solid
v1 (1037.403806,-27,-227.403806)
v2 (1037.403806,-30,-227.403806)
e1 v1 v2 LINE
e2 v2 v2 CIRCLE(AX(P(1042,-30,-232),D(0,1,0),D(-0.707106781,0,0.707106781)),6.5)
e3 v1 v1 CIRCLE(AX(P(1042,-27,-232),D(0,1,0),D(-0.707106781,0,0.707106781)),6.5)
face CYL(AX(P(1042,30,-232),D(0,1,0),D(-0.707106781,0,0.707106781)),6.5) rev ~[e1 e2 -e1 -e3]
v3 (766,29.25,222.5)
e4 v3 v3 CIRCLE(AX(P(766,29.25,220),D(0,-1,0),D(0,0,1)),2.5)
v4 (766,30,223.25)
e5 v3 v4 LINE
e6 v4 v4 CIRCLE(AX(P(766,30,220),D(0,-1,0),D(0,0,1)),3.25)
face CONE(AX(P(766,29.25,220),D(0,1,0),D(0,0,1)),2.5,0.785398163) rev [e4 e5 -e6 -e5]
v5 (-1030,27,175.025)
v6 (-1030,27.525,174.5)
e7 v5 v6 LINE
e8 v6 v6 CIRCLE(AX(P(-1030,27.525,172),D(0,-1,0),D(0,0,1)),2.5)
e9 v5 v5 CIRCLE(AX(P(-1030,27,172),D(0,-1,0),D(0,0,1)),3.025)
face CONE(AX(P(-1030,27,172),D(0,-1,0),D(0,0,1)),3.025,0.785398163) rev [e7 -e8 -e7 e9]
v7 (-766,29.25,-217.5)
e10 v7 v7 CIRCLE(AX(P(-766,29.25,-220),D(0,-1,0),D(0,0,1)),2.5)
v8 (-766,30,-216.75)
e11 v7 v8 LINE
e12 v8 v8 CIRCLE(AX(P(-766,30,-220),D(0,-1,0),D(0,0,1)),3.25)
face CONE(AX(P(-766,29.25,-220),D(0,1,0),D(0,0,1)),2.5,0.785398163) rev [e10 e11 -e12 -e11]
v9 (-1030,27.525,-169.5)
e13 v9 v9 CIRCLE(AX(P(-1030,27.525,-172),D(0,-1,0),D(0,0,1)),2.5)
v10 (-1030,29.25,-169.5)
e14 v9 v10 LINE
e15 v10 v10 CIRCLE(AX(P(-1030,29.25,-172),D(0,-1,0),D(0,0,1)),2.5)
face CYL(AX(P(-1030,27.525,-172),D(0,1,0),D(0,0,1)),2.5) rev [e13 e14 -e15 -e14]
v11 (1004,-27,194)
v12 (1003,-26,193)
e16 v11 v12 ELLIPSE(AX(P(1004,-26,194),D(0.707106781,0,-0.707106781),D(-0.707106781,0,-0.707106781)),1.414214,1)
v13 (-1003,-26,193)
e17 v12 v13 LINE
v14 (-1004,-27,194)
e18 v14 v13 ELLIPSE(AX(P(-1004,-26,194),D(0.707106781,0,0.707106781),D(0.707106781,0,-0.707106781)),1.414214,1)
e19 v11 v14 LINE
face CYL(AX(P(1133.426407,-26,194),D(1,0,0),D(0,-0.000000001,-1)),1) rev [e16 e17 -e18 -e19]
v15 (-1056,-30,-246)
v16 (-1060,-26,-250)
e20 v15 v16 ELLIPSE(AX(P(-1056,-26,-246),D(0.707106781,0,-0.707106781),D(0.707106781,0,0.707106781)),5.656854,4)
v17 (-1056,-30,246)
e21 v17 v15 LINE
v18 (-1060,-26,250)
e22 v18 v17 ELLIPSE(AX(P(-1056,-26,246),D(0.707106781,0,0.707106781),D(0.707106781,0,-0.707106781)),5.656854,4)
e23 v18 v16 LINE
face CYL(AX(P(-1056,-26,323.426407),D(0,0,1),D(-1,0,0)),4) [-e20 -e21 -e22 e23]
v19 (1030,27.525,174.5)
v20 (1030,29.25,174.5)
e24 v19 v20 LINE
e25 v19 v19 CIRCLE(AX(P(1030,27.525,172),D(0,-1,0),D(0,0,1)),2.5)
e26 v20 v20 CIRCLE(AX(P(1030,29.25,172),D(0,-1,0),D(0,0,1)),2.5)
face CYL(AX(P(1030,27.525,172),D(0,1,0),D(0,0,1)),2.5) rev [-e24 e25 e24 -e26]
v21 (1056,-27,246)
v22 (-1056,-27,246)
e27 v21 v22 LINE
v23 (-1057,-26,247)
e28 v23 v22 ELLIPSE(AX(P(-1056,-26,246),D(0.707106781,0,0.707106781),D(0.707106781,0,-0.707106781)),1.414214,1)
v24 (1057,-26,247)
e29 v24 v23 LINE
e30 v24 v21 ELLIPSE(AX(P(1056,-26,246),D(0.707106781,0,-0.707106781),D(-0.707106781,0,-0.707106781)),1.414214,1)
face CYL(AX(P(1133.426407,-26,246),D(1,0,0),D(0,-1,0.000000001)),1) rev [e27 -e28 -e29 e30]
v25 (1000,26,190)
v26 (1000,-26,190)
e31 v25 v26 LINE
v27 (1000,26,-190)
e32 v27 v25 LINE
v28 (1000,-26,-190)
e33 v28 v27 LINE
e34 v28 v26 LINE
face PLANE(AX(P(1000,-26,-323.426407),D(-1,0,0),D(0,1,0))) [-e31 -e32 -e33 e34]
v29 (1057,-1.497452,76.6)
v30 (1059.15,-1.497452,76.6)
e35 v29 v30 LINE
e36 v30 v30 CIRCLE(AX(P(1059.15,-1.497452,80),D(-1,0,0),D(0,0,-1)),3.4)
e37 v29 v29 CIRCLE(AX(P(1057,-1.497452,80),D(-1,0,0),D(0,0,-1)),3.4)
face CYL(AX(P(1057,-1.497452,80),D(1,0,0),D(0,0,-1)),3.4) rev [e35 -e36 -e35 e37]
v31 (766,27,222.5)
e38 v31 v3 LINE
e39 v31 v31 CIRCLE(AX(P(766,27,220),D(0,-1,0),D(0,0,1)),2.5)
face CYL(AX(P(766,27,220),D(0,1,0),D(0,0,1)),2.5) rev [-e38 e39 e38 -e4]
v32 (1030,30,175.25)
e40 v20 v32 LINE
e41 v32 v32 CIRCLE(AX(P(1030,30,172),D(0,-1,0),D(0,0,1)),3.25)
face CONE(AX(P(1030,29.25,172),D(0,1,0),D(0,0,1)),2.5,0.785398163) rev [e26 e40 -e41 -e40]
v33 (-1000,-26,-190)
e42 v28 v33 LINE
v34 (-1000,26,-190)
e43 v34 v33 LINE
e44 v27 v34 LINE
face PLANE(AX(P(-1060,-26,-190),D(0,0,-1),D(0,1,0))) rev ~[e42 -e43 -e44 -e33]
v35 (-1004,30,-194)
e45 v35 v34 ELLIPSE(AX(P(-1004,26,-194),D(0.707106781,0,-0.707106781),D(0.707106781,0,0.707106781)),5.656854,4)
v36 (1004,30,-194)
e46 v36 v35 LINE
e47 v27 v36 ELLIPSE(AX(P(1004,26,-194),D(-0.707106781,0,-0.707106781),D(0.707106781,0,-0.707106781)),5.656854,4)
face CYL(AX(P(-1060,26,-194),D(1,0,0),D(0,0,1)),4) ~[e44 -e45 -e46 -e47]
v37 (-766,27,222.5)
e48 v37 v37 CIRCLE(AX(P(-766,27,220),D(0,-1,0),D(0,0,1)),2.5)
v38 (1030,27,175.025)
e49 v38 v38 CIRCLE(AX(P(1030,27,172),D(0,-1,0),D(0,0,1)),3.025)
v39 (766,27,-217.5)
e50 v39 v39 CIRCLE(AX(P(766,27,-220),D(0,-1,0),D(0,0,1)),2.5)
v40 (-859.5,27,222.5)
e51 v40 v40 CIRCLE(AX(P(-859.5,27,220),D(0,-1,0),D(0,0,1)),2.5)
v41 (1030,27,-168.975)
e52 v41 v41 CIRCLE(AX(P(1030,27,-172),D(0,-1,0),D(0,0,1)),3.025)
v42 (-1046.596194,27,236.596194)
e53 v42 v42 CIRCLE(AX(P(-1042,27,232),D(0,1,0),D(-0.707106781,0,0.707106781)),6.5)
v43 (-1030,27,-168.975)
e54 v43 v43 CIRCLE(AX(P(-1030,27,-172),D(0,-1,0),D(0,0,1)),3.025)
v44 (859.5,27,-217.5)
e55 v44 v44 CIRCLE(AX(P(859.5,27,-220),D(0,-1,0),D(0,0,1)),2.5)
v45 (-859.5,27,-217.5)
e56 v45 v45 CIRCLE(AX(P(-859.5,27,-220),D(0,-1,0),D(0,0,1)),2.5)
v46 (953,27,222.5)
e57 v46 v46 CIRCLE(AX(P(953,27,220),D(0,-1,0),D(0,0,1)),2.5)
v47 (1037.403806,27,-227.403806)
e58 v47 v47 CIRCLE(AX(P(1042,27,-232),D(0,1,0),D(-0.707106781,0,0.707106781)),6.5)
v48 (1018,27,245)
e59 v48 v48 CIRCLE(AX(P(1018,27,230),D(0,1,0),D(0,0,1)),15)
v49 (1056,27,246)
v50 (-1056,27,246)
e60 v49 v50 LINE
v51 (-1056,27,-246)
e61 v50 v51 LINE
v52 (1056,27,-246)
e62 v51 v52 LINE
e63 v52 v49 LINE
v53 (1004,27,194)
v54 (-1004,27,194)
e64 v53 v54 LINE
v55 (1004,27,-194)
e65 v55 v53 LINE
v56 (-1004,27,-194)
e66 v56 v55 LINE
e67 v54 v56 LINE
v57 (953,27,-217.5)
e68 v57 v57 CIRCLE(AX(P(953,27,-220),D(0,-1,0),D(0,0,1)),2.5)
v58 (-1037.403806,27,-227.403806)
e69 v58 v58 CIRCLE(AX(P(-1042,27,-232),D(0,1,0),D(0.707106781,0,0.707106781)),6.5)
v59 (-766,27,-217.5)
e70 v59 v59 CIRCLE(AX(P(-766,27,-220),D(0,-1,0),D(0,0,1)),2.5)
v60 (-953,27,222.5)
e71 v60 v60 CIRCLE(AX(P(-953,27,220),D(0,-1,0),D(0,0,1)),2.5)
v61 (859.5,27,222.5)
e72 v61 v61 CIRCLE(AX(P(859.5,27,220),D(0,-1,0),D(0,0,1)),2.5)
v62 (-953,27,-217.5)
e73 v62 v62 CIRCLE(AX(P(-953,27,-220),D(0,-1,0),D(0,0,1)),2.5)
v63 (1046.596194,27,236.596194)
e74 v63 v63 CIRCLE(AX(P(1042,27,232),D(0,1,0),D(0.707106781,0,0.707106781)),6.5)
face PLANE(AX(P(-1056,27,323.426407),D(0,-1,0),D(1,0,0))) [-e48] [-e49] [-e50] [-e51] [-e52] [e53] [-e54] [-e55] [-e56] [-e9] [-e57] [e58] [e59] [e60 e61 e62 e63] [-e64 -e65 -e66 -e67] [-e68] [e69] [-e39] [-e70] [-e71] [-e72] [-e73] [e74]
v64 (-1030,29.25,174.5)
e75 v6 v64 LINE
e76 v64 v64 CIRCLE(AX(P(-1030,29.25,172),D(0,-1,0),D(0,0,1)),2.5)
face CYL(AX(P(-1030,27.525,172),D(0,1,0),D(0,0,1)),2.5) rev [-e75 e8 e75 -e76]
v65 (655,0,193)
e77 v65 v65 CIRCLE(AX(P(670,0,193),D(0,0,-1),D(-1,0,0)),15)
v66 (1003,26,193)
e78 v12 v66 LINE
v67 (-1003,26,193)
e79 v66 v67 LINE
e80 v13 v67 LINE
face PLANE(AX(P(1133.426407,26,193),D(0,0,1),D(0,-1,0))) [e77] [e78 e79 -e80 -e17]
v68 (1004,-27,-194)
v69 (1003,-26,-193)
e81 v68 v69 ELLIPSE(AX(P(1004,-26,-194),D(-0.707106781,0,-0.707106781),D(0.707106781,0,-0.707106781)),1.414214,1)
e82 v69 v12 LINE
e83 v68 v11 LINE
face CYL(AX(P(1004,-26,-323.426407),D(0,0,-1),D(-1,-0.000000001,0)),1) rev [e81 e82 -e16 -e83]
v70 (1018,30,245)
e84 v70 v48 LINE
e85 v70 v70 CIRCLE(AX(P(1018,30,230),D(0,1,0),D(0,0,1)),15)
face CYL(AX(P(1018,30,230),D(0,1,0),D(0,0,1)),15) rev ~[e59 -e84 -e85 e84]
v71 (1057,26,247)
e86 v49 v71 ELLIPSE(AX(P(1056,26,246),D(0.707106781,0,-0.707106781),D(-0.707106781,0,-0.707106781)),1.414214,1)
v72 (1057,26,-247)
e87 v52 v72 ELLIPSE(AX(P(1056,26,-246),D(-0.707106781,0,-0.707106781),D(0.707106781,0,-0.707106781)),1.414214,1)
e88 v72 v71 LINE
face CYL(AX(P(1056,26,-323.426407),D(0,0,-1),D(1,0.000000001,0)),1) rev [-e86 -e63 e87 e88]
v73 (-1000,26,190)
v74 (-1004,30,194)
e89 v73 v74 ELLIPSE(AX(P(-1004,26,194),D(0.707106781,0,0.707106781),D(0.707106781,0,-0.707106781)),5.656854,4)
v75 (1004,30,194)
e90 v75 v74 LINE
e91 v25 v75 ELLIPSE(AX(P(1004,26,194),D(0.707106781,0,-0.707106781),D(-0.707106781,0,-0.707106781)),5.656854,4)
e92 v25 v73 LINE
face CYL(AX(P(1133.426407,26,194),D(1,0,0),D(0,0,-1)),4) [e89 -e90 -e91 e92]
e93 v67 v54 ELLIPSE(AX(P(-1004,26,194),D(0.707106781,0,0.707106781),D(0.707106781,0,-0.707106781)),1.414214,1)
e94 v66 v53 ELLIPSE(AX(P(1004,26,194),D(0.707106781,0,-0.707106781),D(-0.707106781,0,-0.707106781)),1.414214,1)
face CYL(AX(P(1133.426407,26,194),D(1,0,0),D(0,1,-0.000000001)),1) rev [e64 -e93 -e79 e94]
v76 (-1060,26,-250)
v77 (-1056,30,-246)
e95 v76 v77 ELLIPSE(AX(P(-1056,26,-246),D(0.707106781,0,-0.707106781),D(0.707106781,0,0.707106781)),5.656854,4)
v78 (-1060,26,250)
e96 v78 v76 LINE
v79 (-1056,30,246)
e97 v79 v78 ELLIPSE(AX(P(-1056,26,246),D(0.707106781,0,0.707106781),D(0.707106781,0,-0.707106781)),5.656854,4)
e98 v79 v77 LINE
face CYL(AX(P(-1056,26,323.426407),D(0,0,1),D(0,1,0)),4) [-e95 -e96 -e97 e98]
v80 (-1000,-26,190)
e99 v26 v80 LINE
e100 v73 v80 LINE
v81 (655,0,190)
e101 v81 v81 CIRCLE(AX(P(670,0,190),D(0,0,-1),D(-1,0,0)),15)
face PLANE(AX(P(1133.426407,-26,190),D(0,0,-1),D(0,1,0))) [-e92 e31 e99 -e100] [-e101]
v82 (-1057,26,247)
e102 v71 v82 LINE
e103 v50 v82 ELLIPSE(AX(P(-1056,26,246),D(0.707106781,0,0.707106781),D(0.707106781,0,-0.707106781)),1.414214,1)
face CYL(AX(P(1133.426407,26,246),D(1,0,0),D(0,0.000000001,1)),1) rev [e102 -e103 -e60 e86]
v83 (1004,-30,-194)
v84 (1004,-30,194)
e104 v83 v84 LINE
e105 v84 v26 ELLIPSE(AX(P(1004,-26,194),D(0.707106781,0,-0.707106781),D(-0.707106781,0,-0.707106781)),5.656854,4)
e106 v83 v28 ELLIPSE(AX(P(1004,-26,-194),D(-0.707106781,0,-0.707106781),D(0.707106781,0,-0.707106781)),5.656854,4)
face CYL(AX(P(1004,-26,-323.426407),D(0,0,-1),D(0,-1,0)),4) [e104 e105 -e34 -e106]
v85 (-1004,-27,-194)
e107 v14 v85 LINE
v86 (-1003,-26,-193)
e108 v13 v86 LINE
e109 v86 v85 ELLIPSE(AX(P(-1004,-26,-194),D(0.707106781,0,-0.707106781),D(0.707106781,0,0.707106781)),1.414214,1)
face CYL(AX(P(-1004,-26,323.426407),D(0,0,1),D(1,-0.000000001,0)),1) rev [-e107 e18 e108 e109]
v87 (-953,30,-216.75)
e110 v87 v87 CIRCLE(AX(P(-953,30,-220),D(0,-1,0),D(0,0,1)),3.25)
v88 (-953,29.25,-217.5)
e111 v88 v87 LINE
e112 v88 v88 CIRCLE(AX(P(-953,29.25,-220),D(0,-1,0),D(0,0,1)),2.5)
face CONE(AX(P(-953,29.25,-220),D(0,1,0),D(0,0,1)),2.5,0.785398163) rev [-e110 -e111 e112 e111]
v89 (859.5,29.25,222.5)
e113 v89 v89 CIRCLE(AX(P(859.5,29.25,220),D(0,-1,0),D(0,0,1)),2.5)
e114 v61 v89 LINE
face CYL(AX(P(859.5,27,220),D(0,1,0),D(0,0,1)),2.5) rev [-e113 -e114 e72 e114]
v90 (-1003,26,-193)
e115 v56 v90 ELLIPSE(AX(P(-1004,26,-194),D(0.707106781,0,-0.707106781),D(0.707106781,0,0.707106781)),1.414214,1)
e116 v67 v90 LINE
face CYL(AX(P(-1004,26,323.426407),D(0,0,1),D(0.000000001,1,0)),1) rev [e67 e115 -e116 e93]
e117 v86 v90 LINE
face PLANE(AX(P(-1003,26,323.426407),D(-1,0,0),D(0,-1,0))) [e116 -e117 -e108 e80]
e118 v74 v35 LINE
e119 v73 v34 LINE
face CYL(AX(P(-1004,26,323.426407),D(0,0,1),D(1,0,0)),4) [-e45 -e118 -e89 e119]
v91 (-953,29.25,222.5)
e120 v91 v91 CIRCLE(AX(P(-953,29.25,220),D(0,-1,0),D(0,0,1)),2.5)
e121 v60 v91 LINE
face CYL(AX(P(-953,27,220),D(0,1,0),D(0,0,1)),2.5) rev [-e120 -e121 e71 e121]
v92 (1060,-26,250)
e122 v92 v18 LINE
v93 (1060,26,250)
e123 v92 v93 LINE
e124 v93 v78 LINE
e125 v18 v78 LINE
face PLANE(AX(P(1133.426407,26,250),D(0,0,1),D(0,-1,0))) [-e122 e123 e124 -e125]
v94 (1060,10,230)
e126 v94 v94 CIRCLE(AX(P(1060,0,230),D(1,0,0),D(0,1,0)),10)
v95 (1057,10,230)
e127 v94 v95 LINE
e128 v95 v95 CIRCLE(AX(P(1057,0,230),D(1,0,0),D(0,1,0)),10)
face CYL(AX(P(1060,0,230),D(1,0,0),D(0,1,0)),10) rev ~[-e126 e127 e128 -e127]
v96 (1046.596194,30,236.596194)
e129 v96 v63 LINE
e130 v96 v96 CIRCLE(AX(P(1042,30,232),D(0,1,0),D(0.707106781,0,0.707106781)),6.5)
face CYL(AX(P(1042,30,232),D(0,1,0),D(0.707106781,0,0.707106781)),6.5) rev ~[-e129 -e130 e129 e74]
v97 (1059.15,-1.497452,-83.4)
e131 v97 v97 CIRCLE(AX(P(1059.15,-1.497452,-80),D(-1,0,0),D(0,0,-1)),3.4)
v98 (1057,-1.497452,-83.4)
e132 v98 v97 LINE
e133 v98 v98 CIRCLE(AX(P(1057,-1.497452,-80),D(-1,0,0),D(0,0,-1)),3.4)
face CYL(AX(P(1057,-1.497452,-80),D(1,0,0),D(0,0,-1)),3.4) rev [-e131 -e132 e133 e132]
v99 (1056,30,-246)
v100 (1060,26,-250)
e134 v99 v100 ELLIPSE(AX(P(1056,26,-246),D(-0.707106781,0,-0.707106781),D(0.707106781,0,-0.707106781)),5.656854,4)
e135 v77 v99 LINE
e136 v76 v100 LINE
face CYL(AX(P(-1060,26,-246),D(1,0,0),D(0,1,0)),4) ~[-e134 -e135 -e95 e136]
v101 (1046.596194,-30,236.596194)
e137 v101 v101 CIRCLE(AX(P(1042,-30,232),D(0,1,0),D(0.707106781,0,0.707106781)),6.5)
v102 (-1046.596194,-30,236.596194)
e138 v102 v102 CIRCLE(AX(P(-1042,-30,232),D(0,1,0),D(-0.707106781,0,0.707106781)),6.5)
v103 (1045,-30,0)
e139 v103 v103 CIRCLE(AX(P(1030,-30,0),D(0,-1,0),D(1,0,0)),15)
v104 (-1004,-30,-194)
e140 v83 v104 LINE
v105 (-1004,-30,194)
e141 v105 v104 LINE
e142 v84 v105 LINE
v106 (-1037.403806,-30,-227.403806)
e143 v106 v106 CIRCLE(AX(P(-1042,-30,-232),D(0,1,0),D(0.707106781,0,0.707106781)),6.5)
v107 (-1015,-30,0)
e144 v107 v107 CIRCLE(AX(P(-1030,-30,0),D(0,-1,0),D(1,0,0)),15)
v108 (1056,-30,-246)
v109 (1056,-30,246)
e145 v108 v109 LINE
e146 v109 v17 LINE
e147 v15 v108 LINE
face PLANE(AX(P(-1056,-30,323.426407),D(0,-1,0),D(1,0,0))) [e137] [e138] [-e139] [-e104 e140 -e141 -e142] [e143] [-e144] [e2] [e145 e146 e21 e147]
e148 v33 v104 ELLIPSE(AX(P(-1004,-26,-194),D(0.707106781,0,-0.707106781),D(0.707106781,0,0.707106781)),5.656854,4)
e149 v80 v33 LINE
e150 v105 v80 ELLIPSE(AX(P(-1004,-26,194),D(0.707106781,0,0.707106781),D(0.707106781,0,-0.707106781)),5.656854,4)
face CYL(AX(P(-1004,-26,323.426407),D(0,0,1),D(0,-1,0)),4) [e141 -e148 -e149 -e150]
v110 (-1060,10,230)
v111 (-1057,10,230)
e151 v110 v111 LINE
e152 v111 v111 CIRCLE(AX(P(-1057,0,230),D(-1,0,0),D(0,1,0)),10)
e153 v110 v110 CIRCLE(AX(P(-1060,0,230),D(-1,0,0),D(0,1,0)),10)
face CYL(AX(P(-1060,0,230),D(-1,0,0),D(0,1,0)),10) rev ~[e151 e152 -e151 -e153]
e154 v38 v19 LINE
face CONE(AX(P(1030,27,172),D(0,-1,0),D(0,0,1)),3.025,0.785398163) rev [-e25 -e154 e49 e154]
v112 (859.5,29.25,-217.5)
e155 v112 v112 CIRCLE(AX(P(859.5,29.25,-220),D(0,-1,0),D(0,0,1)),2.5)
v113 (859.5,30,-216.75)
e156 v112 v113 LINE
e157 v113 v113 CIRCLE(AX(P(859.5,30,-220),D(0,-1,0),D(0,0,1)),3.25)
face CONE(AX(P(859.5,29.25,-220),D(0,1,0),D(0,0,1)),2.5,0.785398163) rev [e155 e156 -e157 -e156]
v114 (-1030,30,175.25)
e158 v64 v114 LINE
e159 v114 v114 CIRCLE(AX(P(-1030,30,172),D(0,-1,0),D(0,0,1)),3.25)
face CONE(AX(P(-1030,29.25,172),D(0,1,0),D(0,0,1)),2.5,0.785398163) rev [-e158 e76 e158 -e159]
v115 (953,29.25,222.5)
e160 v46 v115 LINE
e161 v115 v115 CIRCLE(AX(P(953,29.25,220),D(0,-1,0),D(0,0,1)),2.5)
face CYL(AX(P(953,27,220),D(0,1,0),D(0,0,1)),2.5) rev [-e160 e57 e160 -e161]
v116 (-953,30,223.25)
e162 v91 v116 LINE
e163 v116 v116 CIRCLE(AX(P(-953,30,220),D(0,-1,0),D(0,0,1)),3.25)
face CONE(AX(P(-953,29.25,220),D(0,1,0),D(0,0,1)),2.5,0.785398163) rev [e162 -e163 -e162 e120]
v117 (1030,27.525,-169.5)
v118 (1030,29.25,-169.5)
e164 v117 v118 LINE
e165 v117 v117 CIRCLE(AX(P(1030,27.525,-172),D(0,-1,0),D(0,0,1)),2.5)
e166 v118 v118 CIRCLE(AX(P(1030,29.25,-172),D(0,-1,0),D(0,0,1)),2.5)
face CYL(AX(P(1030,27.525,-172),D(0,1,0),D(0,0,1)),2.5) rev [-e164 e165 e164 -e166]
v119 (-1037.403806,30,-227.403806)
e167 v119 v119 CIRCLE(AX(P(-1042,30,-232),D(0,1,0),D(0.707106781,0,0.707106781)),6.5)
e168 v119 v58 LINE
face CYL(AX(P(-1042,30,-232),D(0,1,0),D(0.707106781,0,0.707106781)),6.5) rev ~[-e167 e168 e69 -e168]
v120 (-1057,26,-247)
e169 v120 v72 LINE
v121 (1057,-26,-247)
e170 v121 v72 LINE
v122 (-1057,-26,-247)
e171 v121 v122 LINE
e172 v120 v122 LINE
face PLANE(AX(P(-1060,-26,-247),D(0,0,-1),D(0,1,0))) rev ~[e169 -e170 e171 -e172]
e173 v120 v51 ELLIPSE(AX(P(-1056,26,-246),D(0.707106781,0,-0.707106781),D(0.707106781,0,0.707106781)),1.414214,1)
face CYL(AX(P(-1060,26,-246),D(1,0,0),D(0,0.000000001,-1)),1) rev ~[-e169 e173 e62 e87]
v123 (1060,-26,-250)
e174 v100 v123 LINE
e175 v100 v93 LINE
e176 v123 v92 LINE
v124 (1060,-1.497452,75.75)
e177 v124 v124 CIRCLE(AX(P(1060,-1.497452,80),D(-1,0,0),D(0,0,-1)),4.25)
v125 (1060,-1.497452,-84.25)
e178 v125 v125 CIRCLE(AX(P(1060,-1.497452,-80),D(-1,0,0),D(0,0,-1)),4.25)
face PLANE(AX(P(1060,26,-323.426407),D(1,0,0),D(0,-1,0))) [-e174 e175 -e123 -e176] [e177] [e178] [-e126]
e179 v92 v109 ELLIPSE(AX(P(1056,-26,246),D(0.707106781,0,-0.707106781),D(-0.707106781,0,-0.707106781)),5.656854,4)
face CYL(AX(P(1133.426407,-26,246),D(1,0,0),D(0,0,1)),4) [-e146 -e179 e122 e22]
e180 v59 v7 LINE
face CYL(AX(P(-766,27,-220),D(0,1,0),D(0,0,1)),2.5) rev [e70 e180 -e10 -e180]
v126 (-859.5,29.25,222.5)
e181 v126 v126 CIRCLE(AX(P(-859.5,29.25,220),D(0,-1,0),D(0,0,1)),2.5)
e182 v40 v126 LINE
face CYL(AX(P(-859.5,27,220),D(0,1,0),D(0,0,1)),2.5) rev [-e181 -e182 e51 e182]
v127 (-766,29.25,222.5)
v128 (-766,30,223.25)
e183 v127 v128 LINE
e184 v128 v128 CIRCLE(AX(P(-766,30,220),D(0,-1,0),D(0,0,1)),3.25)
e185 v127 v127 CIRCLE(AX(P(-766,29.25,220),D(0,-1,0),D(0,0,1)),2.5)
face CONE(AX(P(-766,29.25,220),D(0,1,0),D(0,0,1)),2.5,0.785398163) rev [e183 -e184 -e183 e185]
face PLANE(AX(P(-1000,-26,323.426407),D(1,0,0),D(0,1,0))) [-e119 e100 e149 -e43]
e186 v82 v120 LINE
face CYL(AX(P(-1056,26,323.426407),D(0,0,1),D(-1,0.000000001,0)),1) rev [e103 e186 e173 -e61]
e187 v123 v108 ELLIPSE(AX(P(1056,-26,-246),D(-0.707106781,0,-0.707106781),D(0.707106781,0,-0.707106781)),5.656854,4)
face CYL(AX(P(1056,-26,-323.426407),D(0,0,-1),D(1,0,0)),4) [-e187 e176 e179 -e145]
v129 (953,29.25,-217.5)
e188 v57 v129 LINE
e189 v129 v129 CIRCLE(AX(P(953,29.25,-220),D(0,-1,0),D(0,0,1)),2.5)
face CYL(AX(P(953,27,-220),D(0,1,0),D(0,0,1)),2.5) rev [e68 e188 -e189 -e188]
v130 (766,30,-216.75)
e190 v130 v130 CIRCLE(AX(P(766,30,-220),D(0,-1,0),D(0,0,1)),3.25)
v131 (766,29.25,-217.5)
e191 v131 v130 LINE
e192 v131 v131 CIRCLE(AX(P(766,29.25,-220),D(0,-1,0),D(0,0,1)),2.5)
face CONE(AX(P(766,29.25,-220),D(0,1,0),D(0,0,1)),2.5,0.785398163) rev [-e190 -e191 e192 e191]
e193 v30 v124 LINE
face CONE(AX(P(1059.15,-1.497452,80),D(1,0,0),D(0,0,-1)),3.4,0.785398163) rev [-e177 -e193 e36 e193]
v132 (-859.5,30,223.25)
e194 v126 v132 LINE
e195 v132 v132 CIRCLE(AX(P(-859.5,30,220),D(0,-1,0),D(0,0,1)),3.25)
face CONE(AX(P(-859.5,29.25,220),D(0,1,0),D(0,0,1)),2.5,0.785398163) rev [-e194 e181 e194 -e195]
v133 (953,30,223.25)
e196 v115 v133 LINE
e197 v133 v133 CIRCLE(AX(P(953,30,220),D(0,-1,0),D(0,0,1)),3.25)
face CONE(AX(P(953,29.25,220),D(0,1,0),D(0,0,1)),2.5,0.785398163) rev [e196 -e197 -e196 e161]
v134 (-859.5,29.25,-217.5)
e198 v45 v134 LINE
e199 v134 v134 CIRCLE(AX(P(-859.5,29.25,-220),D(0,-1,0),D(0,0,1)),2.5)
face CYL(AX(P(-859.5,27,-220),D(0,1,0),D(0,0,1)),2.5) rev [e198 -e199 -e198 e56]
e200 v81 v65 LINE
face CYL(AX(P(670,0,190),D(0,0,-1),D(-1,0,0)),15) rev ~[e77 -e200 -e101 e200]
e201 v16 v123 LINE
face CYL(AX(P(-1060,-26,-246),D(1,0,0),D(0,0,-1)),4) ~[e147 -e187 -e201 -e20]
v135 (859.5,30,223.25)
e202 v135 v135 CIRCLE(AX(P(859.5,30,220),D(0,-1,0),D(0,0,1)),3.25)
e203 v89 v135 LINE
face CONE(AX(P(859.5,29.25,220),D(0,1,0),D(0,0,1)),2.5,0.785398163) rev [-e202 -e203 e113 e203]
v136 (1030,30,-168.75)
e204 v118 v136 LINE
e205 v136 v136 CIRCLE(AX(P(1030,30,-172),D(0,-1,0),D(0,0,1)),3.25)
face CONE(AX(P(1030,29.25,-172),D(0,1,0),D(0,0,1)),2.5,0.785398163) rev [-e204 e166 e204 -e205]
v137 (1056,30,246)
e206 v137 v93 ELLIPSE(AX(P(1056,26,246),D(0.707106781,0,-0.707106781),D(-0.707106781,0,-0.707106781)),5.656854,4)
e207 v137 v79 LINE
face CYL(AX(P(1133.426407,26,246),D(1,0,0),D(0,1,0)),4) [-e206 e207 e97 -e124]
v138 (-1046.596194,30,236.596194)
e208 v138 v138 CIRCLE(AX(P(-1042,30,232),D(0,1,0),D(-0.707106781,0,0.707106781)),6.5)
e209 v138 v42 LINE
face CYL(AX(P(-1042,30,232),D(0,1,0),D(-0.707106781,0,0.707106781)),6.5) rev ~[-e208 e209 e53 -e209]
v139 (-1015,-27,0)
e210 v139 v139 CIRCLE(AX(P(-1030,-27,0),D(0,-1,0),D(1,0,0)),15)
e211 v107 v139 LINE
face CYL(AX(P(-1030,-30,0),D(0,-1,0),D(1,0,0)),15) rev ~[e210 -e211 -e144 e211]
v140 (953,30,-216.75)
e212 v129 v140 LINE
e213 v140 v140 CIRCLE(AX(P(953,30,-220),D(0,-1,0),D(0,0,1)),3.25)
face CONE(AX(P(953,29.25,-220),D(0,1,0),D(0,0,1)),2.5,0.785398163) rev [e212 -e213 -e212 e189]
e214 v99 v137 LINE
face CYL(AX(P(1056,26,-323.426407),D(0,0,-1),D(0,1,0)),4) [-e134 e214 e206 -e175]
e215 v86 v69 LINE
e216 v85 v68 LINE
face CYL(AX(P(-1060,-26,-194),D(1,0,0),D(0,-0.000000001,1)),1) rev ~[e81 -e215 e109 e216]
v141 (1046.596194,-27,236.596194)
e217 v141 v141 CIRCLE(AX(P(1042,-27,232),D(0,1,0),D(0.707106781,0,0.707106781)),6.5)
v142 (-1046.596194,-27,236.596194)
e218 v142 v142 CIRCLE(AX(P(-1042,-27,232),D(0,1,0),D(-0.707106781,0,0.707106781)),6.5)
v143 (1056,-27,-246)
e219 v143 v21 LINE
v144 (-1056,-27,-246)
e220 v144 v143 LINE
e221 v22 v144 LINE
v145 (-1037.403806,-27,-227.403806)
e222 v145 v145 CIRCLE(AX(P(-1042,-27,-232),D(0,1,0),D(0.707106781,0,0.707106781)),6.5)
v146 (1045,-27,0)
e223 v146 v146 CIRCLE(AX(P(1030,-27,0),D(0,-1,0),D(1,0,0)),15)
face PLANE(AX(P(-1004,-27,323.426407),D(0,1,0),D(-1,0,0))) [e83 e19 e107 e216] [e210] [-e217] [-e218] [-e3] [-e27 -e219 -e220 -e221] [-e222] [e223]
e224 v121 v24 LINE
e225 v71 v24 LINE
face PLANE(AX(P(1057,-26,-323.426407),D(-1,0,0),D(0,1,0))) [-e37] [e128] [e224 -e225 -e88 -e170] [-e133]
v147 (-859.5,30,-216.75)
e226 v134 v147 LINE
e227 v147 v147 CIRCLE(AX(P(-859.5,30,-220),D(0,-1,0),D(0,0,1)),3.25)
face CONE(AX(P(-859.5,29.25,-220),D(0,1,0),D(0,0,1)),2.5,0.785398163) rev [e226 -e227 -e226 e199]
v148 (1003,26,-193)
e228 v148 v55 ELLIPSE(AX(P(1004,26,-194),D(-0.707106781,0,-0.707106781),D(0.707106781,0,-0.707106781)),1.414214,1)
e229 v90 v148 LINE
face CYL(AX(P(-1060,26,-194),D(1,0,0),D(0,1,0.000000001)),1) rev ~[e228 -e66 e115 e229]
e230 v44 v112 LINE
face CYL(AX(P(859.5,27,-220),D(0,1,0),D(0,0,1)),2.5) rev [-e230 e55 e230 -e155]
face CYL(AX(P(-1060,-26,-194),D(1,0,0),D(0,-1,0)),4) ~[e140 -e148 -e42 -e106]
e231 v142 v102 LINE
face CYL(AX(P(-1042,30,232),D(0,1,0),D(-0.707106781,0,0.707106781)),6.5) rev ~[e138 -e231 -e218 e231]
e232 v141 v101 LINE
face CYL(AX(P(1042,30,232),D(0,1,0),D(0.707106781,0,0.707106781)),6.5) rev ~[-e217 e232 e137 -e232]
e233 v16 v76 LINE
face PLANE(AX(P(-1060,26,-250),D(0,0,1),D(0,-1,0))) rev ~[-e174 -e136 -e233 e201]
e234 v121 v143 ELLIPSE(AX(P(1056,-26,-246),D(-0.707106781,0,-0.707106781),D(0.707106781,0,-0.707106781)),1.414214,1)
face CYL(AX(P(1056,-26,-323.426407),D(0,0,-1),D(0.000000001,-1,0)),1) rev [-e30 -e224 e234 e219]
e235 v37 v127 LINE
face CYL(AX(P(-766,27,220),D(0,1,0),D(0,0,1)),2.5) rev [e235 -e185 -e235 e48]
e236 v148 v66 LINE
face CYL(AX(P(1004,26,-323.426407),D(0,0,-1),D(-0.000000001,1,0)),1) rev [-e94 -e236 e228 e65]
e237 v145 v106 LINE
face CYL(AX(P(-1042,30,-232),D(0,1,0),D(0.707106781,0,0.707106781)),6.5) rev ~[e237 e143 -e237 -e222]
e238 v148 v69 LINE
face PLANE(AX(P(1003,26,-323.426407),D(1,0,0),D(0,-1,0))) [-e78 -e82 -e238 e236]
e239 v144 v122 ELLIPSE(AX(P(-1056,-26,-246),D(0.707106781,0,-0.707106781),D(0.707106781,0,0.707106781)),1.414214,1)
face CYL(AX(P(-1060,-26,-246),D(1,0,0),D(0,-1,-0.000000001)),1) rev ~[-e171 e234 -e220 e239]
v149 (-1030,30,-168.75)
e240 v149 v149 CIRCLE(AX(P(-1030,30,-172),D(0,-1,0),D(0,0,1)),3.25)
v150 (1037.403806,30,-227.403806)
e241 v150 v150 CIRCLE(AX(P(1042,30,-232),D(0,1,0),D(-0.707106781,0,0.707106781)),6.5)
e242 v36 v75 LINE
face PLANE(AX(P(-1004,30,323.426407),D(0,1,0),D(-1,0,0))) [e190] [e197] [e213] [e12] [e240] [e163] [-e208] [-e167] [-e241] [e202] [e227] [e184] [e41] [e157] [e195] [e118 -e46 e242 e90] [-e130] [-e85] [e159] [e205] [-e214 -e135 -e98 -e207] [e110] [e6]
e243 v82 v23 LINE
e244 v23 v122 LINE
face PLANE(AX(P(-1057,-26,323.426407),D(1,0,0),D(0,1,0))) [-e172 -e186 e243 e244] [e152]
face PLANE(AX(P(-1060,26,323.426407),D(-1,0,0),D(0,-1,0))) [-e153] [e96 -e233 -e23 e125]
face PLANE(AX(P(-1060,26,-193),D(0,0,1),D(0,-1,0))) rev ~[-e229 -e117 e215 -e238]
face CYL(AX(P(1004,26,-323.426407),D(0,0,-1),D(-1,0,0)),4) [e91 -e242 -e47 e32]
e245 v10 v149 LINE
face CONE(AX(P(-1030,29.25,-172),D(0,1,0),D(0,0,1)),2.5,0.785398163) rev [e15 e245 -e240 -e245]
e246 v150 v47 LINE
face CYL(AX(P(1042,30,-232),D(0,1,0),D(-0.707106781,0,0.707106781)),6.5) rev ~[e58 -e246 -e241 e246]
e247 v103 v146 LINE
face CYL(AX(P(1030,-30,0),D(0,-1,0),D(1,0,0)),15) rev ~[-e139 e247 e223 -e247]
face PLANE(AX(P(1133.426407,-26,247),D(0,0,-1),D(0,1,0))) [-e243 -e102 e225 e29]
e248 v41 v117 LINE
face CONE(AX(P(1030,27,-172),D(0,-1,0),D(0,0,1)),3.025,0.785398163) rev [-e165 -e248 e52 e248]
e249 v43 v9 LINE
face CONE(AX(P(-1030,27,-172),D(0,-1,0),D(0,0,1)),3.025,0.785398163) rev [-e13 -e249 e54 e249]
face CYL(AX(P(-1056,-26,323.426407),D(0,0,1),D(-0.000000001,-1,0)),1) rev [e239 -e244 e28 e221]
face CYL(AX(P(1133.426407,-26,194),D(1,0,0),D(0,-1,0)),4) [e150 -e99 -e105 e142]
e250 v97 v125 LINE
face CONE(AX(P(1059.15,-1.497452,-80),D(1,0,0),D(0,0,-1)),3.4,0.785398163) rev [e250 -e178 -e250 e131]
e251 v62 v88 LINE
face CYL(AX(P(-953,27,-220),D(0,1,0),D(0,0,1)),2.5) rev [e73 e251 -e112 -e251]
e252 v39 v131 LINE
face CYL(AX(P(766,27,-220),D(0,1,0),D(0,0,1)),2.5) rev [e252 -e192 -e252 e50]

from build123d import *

# Parameters (mm, degrees)
STRUKTURBAUTEIL1_DEPTH          = 2193.426406871
STRUKTURBAUTEIL1_DEPTH_BACK     = 73.426406871
STRUKTURBAUTEIL1_2_DEPTH        = 646.852813742
STRUKTURBAUTEIL1_3_DEPTH        = 2266.852813742
STRUKTURBAUTEIL1_4_DEPTH        = 646.852813742
M6_GEWINDEBOHRUNG1_AT_2_COUNT   = 2
M6_GEWINDEBOHRUNG1_AT_2_PITCH   = 344
M6_GEWINDEBOHRUNG2_AT_2_COUNT   = 2
M6_GEWINDEBOHRUNG2_AT_2_PITCH   = 344
SCHNITT_LINEAR_AUSTRAGEN1_REACH = 1092.734
SKIZZE19_R                      = 15
SCHNITT_LINEAR_AUSTRAGEN2_REACH = 1150.085
SKIZZE20_R                      = 15
SCHNITT_LINEAR_AUSTRAGEN3_REACH = 2136.9
SKIZZE21_R                      = 10
SCHNITT_LINEAR_AUSTRAGEN4_REACH = 1092.734
SKIZZE22_R                      = 15
SCHNITT_LINEAR_AUSTRAGEN5_REACH = 2136.9
SKIZZE23_R                      = 10
M8_GEWINDEBOHRUNG1_AT_2_COUNT   = 2
M8_GEWINDEBOHRUNG1_AT_2_PITCH   = 160
SKIZZE26_R                      = 6.5
SCHNITT_LINEAR_AUSTRAGEN6_DEPTH = 1091.733698022
M6_GEWINDEBOHRUNG3_AT_2_COUNT   = 2
M6_GEWINDEBOHRUNG3_AT_2_PITCH   = 93.5
M6_GEWINDEBOHRUNG3_AT_3_COUNT   = 2
M6_GEWINDEBOHRUNG3_AT_3_PITCH   = 187
M6_GEWINDEBOHRUNG3_AT_4_COUNT   = 2
M6_GEWINDEBOHRUNG3_AT_4_PITCH   = 1719
M6_GEWINDEBOHRUNG3_AT_5_COUNT   = 2
M6_GEWINDEBOHRUNG3_AT_5_PITCH   = 1812.5
M6_GEWINDEBOHRUNG3_AT_6_COUNT   = 2
M6_GEWINDEBOHRUNG3_AT_6_PITCH   = 1906
M6_GEWINDEBOHRUNG3_AT_7_COUNT   = 2
M6_GEWINDEBOHRUNG3_AT_7_PITCH   = 1774.418496297
M6_GEWINDEBOHRUNG3_AT_8_COUNT   = 2
M6_GEWINDEBOHRUNG3_AT_8_PITCH   = 1865.142420835
M6_GEWINDEBOHRUNG3_AT_9_COUNT   = 2
M6_GEWINDEBOHRUNG3_AT_9_PITCH   = 1956.127807685
M6_GEWINDEBOHRUNG3_AT_10_COUNT  = 2
M6_GEWINDEBOHRUNG3_AT_10_PITCH  = 440
M6_GEWINDEBOHRUNG3_AT_11_COUNT  = 2
M6_GEWINDEBOHRUNG3_AT_11_PITCH  = 449.824688073
M6_GEWINDEBOHRUNG3_AT_12_COUNT  = 2
M6_GEWINDEBOHRUNG3_AT_12_PITCH  = 478.088903866


with BuildPart() as part:
    # Skizze12 → Strukturbauteil1 (new, two sides)
    with BuildSketch(Plane(origin=(-1060, 0, -220), x_dir=(0, 0, -1), z_dir=(1, 0, 0))) as strukturbauteil1_sk:
        with BuildLine():
            Line((26, -30), (-26, -30))
            ThreePointArc((-26, -30), (-28.828427125, -28.828427125), (-30, -26))
            Line((-30, -26), (-30, 26))
            ThreePointArc((-30, 26), (-28.828427125, 28.828427125), (-26, 30))
            Line((-26, 30), (26, 30))
            ThreePointArc((26, 30), (28.828427125, 28.828427125), (30, 26))
            Line((30, 26), (30, -26))
            ThreePointArc((30, -26), (28.828427125, -28.828427125), (26, -30))
        make_face()
        with BuildLine():
            Line((27, -26), (27, 26))
            ThreePointArc((27, 26), (26.707106781, 26.707106781), (26, 27))
            Line((26, 27), (-26, 27))
            ThreePointArc((-26, 27), (-26.707106781, 26.707106781), (-27, 26))
            Line((-27, 26), (-27, -26))
            ThreePointArc((-27, -26), (-26.707106781, -26.707106781), (-26, -27))
            Line((-26, -27), (26, -27))
            ThreePointArc((26, -27), (26.707106781, -26.707106781), (27, -26))
        make_face(mode=Mode.SUBTRACT)
    extrude(amount=STRUKTURBAUTEIL1_DEPTH)
    extrude(strukturbauteil1_sk.sketch, amount=-STRUKTURBAUTEIL1_DEPTH_BACK)

    # Strukturbauteil1 mitre 1
    split(bisect_by=Plane(origin=(-1060, 0, -250), x_dir=(0, 1, 0), z_dir=(0.707106781, 0, -0.707106781)), keep=Keep.TOP)

    # Strukturbauteil1 mitre 2
    split(bisect_by=Plane(origin=(1060, 0, -250), x_dir=(0, -1, 0), z_dir=(-0.707106781, 0, -0.707106781)), keep=Keep.TOP)


with BuildPart() as body_2:
    # Skizze12 on segment 2 (carried to segment 2) → Strukturbauteil1 2 (new body)
    with BuildSketch(Plane(origin=(1030, 0, -323.426406871), x_dir=(1, 0, 0), z_dir=(0, 0, 1))):
        with BuildLine():
            Line((26, -30), (-26, -30))
            ThreePointArc((-26, -30), (-28.828427125, -28.828427125), (-30, -26))
            Line((-30, -26), (-30, 26))
            ThreePointArc((-30, 26), (-28.828427125, 28.828427125), (-26, 30))
            Line((-26, 30), (26, 30))
            ThreePointArc((26, 30), (28.828427125, 28.828427125), (30, 26))
            Line((30, 26), (30, -26))
            ThreePointArc((30, -26), (28.828427125, -28.828427125), (26, -30))
        make_face()
        with BuildLine():
            Line((27, -26), (27, 26))
            ThreePointArc((27, 26), (26.707106781, 26.707106781), (26, 27))
            Line((26, 27), (-26, 27))
            ThreePointArc((-26, 27), (-26.707106781, 26.707106781), (-27, 26))
            Line((-27, 26), (-27, -26))
            ThreePointArc((-27, -26), (-26.707106781, -26.707106781), (-26, -27))
            Line((-26, -27), (26, -27))
            ThreePointArc((26, -27), (26.707106781, -26.707106781), (27, -26))
        make_face(mode=Mode.SUBTRACT)
    extrude(amount=STRUKTURBAUTEIL1_2_DEPTH)

    # Strukturbauteil1 2 mitre 1
    split(bisect_by=Plane(origin=(1060, 0, -250), x_dir=(0, 1, 0), z_dir=(0.707106781, 0, 0.707106781)), keep=Keep.TOP)

    # Strukturbauteil1 2 mitre 2
    split(bisect_by=Plane(origin=(1060, 0, 250), x_dir=(0, 1, 0), z_dir=(0.707106781, 0, -0.707106781)), keep=Keep.TOP)


with BuildPart() as body_3:
    # Skizze12 on segment 3 (carried to segment 3) → Strukturbauteil1 3 (new body)
    with BuildSketch(Plane(origin=(1133.426406871, 0, 220), x_dir=(0, 0, 1), z_dir=(-1, 0, 0))):
        with BuildLine():
            Line((26, -30), (-26, -30))
            ThreePointArc((-26, -30), (-28.828427125, -28.828427125), (-30, -26))
            Line((-30, -26), (-30, 26))
            ThreePointArc((-30, 26), (-28.828427125, 28.828427125), (-26, 30))
            Line((-26, 30), (26, 30))
            ThreePointArc((26, 30), (28.828427125, 28.828427125), (30, 26))
            Line((30, 26), (30, -26))
            ThreePointArc((30, -26), (28.828427125, -28.828427125), (26, -30))
        make_face()
        with BuildLine():
            Line((27, -26), (27, 26))
            ThreePointArc((27, 26), (26.707106781, 26.707106781), (26, 27))
            Line((26, 27), (-26, 27))
            ThreePointArc((-26, 27), (-26.707106781, 26.707106781), (-27, 26))
            Line((-27, 26), (-27, -26))
            ThreePointArc((-27, -26), (-26.707106781, -26.707106781), (-26, -27))
            Line((-26, -27), (26, -27))
            ThreePointArc((26, -27), (26.707106781, -26.707106781), (27, -26))
        make_face(mode=Mode.SUBTRACT)
    extrude(amount=STRUKTURBAUTEIL1_3_DEPTH)

    # Strukturbauteil1 3 mitre 1
    split(bisect_by=Plane(origin=(-1060, 0, 250), x_dir=(0, 1, 0), z_dir=(0.707106781, 0, 0.707106781)), keep=Keep.TOP)

    # Strukturbauteil1 3 mitre 2
    split(bisect_by=Plane(origin=(1060, 0, 250), x_dir=(0, -1, 0), z_dir=(-0.707106781, 0, 0.707106781)), keep=Keep.TOP)


with BuildPart() as body_4:
    # Skizze12 on segment 4 (carried to segment 4) → Strukturbauteil1 4 (new body)
    with BuildSketch(Plane(origin=(-1030, 0, 323.426406871), x_dir=(-1, 0, 0), z_dir=(0, 0, -1))):
        with BuildLine():
            Line((26, -30), (-26, -30))
            ThreePointArc((-26, -30), (-28.828427125, -28.828427125), (-30, -26))
            Line((-30, -26), (-30, 26))
            ThreePointArc((-30, 26), (-28.828427125, 28.828427125), (-26, 30))
            Line((-26, 30), (26, 30))
            ThreePointArc((26, 30), (28.828427125, 28.828427125), (30, 26))
            Line((30, 26), (30, -26))
            ThreePointArc((30, -26), (28.828427125, -28.828427125), (26, -30))
        make_face()
        with BuildLine():
            Line((27, -26), (27, 26))
            ThreePointArc((27, 26), (26.707106781, 26.707106781), (26, 27))
            Line((26, 27), (-26, 27))
            ThreePointArc((-26, 27), (-26.707106781, 26.707106781), (-27, 26))
            Line((-27, 26), (-27, -26))
            ThreePointArc((-27, -26), (-26.707106781, -26.707106781), (-26, -27))
            Line((-26, -27), (26, -27))
            ThreePointArc((26, -27), (26.707106781, -26.707106781), (27, -26))
        make_face(mode=Mode.SUBTRACT)
    extrude(amount=STRUKTURBAUTEIL1_4_DEPTH)

    # Strukturbauteil1 4 mitre 1
    split(bisect_by=Plane(origin=(-1060, 0, -250), x_dir=(0, -1, 0), z_dir=(-0.707106781, 0, 0.707106781)), keep=Keep.TOP)

    # Strukturbauteil1 4 mitre 2
    split(bisect_by=Plane(origin=(-1060, 0, 250), x_dir=(0, -1, 0), z_dir=(-0.707106781, 0, -0.707106781)), keep=Keep.TOP)


with BuildPart() as part_1:
    add(part.part)

    # Strukturbauteil1 as one body: union body 2, body 3, body 4
    add(body_2.part)
    add(body_3.part)
    add(body_4.part)

    # Skizze15 → M6 Gewindebohrung1 (revolve, cut)
    with BuildSketch(Plane(origin=(1030, 30, 172), x_dir=(0, 0, 1), z_dir=(1, 0, 0))):
        Polygon((0, 0), (0, 3), (3.025, 3), (2.5, 2.475), (2.5, 0.75), (3.25, 0), align=None)
    m6_gewindebohrung1 = revolve(axis=Axis((1030, 36.35, 172), (0, -1, 0)), mode=Mode.SUBTRACT)

    # M6 Gewindebohrung1 at 2: M6 Gewindebohrung1 ×2
    with Locations(*[(0, 0, -i * M6_GEWINDEBOHRUNG1_AT_2_PITCH) for i in range(1, M6_GEWINDEBOHRUNG1_AT_2_COUNT)]):
        add(m6_gewindebohrung1, mode=Mode.SUBTRACT)

    # Skizze17 → M6 Gewindebohrung2 (revolve, cut)
    with BuildSketch(Plane(origin=(-1030, 30, -172), x_dir=(0, 0, 1), z_dir=(1, 0, 0))):
        Polygon((0, 0), (0, 3), (3.025, 3), (2.5, 2.475), (2.5, 0.75), (3.25, 0), align=None)
    m6_gewindebohrung2 = revolve(axis=Axis((-1030, 36.35, -172), (0, -1, 0)), mode=Mode.SUBTRACT)

    # M6 Gewindebohrung2 at 2: M6 Gewindebohrung2 ×2
    with Locations(*[(0, 0, i * M6_GEWINDEBOHRUNG2_AT_2_PITCH) for i in range(1, M6_GEWINDEBOHRUNG2_AT_2_COUNT)]):
        add(m6_gewindebohrung2, mode=Mode.SUBTRACT)

    # Skizze19 → Schnitt-Linear austragen1 (cut, up to next)
    with BuildSketch(Plane(origin=(0, 30, 0), x_dir=(1, 0, 0), z_dir=(0, 1, 0)), mode=Mode.PRIVATE) as schnitt_linear_austragen1_sk1:
        with Locations(Location((1018, -230, 0), (0, 0, 270))):
            Circle(SKIZZE19_R)
    schnitt_linear_austragen1_tool1 = extrude(schnitt_linear_austragen1_sk1.sketch, amount=-SCHNITT_LINEAR_AUSTRAGEN1_REACH, mode=Mode.PRIVATE) & part_1.part
    add(schnitt_linear_austragen1_tool1.solids().sort_by_distance((1018, 30, 230))[0], mode=Mode.SUBTRACT)

    # Skizze20 → Schnitt-Linear austragen2 (cut, up to next)
    with BuildSketch(Plane(origin=(0, 0, 190), x_dir=(-1, 0, 0), z_dir=(0, 0, -1)), mode=Mode.PRIVATE) as schnitt_linear_austragen2_sk1:
        with Locations((-670, 0)):
            Circle(SKIZZE20_R)
    schnitt_linear_austragen2_tool1 = extrude(schnitt_linear_austragen2_sk1.sketch, amount=-SCHNITT_LINEAR_AUSTRAGEN2_REACH, mode=Mode.PRIVATE) & part_1.part
    add(schnitt_linear_austragen2_tool1.solids().sort_by_distance((670, 0, 190))[0], mode=Mode.SUBTRACT)

    # Skizze21 → Schnitt-Linear austragen3 (cut, up to next)
    with BuildSketch(Plane(origin=(1060, 0, 0), x_dir=(0, 0, -1), z_dir=(1, 0, 0)), mode=Mode.PRIVATE) as schnitt_linear_austragen3_sk1:
        with Locations(Location((-230, 0, 0), (0, 0, 90))):
            Circle(SKIZZE21_R)
    schnitt_linear_austragen3_tool1 = extrude(schnitt_linear_austragen3_sk1.sketch, amount=-SCHNITT_LINEAR_AUSTRAGEN3_REACH, mode=Mode.PRIVATE) & part_1.part
    add(schnitt_linear_austragen3_tool1.solids().sort_by_distance((1060, 0, 230))[0], mode=Mode.SUBTRACT)

    # Skizze22 → Schnitt-Linear austragen4 (cut, up to next)
    with BuildSketch(Plane.XZ.offset(30), mode=Mode.PRIVATE) as schnitt_linear_austragen4_sk1:
        with Locations((-1030, 0)):
            Circle(SKIZZE22_R)
    schnitt_linear_austragen4_tool1 = extrude(schnitt_linear_austragen4_sk1.sketch, amount=-SCHNITT_LINEAR_AUSTRAGEN4_REACH, mode=Mode.PRIVATE) & part_1.part
    # Skizze22 → Schnitt-Linear austragen4 (cut, up to next)
    with BuildSketch(Plane.XZ.offset(30), mode=Mode.PRIVATE) as schnitt_linear_austragen4_sk2:
        with Locations((1030, 0)):
            Circle(SKIZZE22_R)
    schnitt_linear_austragen4_tool2 = extrude(schnitt_linear_austragen4_sk2.sketch, amount=-SCHNITT_LINEAR_AUSTRAGEN4_REACH, mode=Mode.PRIVATE) & part_1.part
    add(schnitt_linear_austragen4_tool1.solids().sort_by_distance((-1030, -30, 0))[0], mode=Mode.SUBTRACT)
    add(schnitt_linear_austragen4_tool2.solids().sort_by_distance((1030, -30, 0))[0], mode=Mode.SUBTRACT)

    # Skizze23 → Schnitt-Linear austragen5 (cut, up to next)
    with BuildSketch(Plane.ZY.offset(1060), mode=Mode.PRIVATE) as schnitt_linear_austragen5_sk1:
        with Locations(Location((230, 0, 0), (0, 0, 90))):
            Circle(SKIZZE23_R)
    schnitt_linear_austragen5_tool1 = extrude(schnitt_linear_austragen5_sk1.sketch, amount=-SCHNITT_LINEAR_AUSTRAGEN5_REACH, mode=Mode.PRIVATE) & part_1.part
    add(schnitt_linear_austragen5_tool1.solids().sort_by_distance((-1060, 0, 230))[0], mode=Mode.SUBTRACT)

    # Skizze24 → M8 Gewindebohrung1 (revolve, cut)
    with BuildSketch(Plane(origin=(1060, -1.497451675, 80), x_dir=(0, 0, -1), z_dir=(0, 1, 0))):
        Polygon((0, 0), (0, 3), (3.4, 3), (3.4, 0.85), (4.25, 0), align=None)
    m8_gewindebohrung1 = revolve(axis=Axis((1066.35, -1.497451675, 80), (-1, 0, 0)), mode=Mode.SUBTRACT)

    # M8 Gewindebohrung1 at 2: M8 Gewindebohrung1 ×2
    with Locations(*[(0, 0, -i * M8_GEWINDEBOHRUNG1_AT_2_PITCH) for i in range(1, M8_GEWINDEBOHRUNG1_AT_2_COUNT)]):
        add(m8_gewindebohrung1, mode=Mode.SUBTRACT)

    # Skizze26 → Schnitt-Linear austragen6 (cut, through all)
    with BuildSketch(Plane(origin=(0, 30, 0), x_dir=(1, 0, 0), z_dir=(0, 1, 0))):
        with Locations(Location((-1042, -232, 0), (0, 0, 225))):
            Circle(SKIZZE26_R)
        with Locations(Location((-1042, 232, 0), (0, 0, 315))):
            Circle(SKIZZE26_R)
        with Locations(Location((1042, 232, 0), (0, 0, 225))):
            Circle(SKIZZE26_R)
        with Locations(Location((1042, -232, 0), (0, 0, 315))):
            Circle(SKIZZE26_R)
    extrude(amount=-SCHNITT_LINEAR_AUSTRAGEN6_DEPTH, mode=Mode.SUBTRACT)

    # Skizze41 → M6 Gewindebohrung3 (revolve, cut)
    with BuildSketch(Plane(origin=(-953, 30, -220), x_dir=(0, 0, 1), z_dir=(1, 0, 0))):
        Polygon((0, 0), (0, 3), (2.5, 3), (2.5, 0.75), (3.25, 0), align=None)
    m6_gewindebohrung3 = revolve(axis=Axis((-953, 36.35, -220), (0, -1, 0)), mode=Mode.SUBTRACT)

    # M6 Gewindebohrung3 at 2: M6 Gewindebohrung3 ×2
    with Locations(*[(i * M6_GEWINDEBOHRUNG3_AT_2_PITCH, 0, 0) for i in range(1, M6_GEWINDEBOHRUNG3_AT_2_COUNT)]):
        add(m6_gewindebohrung3, mode=Mode.SUBTRACT)

    # M6 Gewindebohrung3 at 3: M6 Gewindebohrung3 ×2
    with Locations(*[(i * M6_GEWINDEBOHRUNG3_AT_3_PITCH, 0, 0) for i in range(1, M6_GEWINDEBOHRUNG3_AT_3_COUNT)]):
        add(m6_gewindebohrung3, mode=Mode.SUBTRACT)

    # M6 Gewindebohrung3 at 4: M6 Gewindebohrung3 ×2
    with Locations(*[(i * M6_GEWINDEBOHRUNG3_AT_4_PITCH, 0, 0) for i in range(1, M6_GEWINDEBOHRUNG3_AT_4_COUNT)]):
        add(m6_gewindebohrung3, mode=Mode.SUBTRACT)

    # M6 Gewindebohrung3 at 5: M6 Gewindebohrung3 ×2
    with Locations(*[(i * M6_GEWINDEBOHRUNG3_AT_5_PITCH, 0, 0) for i in range(1, M6_GEWINDEBOHRUNG3_AT_5_COUNT)]):
        add(m6_gewindebohrung3, mode=Mode.SUBTRACT)

    # M6 Gewindebohrung3 at 6: M6 Gewindebohrung3 ×2
    with Locations(*[(i * M6_GEWINDEBOHRUNG3_AT_6_PITCH, 0, 0) for i in range(1, M6_GEWINDEBOHRUNG3_AT_6_COUNT)]):
        add(m6_gewindebohrung3, mode=Mode.SUBTRACT)

    # M6 Gewindebohrung3 at 7: M6 Gewindebohrung3 ×2
    with Locations(*[Vector(0.9687680801274315, 0, 0.24796856035838577) * (i * M6_GEWINDEBOHRUNG3_AT_7_PITCH) for i in range(1, M6_GEWINDEBOHRUNG3_AT_7_COUNT)]):
        add(m6_gewindebohrung3, mode=Mode.SUBTRACT)

    # M6 Gewindebohrung3 at 8: M6 Gewindebohrung3 ×2
    with Locations(*[Vector(0.9717756562461923, 0, 0.2359069179301073) * (i * M6_GEWINDEBOHRUNG3_AT_8_PITCH) for i in range(1, M6_GEWINDEBOHRUNG3_AT_8_COUNT)]):
        add(m6_gewindebohrung3, mode=Mode.SUBTRACT)

    # M6 Gewindebohrung3 at 9: M6 Gewindebohrung3 ×2
    with Locations(*[Vector(0.9743739608994719, 0, 0.22493417775223615) * (i * M6_GEWINDEBOHRUNG3_AT_9_PITCH) for i in range(1, M6_GEWINDEBOHRUNG3_AT_9_COUNT)]):
        add(m6_gewindebohrung3, mode=Mode.SUBTRACT)

    # M6 Gewindebohrung3 at 10: M6 Gewindebohrung3 ×2
    with Locations(*[(0, 0, i * M6_GEWINDEBOHRUNG3_AT_10_PITCH) for i in range(1, M6_GEWINDEBOHRUNG3_AT_10_COUNT)]):
        add(m6_gewindebohrung3, mode=Mode.SUBTRACT)

    # M6 Gewindebohrung3 at 11: M6 Gewindebohrung3 ×2
    with Locations(*[Vector(0.20785875582005006, 0, 0.9781588509178563) * (i * M6_GEWINDEBOHRUNG3_AT_11_PITCH) for i in range(1, M6_GEWINDEBOHRUNG3_AT_11_COUNT)]):
        add(m6_gewindebohrung3, mode=Mode.SUBTRACT)

    # M6 Gewindebohrung3 at 12: M6 Gewindebohrung3 ×2
    with Locations(*[Vector(0.39114064034486057, 0, 0.9203309184584708) * (i * M6_GEWINDEBOHRUNG3_AT_12_PITCH) for i in range(1, M6_GEWINDEBOHRUNG3_AT_12_COUNT)]):
        add(m6_gewindebohrung3, mode=Mode.SUBTRACT)


solid = part_1.part
